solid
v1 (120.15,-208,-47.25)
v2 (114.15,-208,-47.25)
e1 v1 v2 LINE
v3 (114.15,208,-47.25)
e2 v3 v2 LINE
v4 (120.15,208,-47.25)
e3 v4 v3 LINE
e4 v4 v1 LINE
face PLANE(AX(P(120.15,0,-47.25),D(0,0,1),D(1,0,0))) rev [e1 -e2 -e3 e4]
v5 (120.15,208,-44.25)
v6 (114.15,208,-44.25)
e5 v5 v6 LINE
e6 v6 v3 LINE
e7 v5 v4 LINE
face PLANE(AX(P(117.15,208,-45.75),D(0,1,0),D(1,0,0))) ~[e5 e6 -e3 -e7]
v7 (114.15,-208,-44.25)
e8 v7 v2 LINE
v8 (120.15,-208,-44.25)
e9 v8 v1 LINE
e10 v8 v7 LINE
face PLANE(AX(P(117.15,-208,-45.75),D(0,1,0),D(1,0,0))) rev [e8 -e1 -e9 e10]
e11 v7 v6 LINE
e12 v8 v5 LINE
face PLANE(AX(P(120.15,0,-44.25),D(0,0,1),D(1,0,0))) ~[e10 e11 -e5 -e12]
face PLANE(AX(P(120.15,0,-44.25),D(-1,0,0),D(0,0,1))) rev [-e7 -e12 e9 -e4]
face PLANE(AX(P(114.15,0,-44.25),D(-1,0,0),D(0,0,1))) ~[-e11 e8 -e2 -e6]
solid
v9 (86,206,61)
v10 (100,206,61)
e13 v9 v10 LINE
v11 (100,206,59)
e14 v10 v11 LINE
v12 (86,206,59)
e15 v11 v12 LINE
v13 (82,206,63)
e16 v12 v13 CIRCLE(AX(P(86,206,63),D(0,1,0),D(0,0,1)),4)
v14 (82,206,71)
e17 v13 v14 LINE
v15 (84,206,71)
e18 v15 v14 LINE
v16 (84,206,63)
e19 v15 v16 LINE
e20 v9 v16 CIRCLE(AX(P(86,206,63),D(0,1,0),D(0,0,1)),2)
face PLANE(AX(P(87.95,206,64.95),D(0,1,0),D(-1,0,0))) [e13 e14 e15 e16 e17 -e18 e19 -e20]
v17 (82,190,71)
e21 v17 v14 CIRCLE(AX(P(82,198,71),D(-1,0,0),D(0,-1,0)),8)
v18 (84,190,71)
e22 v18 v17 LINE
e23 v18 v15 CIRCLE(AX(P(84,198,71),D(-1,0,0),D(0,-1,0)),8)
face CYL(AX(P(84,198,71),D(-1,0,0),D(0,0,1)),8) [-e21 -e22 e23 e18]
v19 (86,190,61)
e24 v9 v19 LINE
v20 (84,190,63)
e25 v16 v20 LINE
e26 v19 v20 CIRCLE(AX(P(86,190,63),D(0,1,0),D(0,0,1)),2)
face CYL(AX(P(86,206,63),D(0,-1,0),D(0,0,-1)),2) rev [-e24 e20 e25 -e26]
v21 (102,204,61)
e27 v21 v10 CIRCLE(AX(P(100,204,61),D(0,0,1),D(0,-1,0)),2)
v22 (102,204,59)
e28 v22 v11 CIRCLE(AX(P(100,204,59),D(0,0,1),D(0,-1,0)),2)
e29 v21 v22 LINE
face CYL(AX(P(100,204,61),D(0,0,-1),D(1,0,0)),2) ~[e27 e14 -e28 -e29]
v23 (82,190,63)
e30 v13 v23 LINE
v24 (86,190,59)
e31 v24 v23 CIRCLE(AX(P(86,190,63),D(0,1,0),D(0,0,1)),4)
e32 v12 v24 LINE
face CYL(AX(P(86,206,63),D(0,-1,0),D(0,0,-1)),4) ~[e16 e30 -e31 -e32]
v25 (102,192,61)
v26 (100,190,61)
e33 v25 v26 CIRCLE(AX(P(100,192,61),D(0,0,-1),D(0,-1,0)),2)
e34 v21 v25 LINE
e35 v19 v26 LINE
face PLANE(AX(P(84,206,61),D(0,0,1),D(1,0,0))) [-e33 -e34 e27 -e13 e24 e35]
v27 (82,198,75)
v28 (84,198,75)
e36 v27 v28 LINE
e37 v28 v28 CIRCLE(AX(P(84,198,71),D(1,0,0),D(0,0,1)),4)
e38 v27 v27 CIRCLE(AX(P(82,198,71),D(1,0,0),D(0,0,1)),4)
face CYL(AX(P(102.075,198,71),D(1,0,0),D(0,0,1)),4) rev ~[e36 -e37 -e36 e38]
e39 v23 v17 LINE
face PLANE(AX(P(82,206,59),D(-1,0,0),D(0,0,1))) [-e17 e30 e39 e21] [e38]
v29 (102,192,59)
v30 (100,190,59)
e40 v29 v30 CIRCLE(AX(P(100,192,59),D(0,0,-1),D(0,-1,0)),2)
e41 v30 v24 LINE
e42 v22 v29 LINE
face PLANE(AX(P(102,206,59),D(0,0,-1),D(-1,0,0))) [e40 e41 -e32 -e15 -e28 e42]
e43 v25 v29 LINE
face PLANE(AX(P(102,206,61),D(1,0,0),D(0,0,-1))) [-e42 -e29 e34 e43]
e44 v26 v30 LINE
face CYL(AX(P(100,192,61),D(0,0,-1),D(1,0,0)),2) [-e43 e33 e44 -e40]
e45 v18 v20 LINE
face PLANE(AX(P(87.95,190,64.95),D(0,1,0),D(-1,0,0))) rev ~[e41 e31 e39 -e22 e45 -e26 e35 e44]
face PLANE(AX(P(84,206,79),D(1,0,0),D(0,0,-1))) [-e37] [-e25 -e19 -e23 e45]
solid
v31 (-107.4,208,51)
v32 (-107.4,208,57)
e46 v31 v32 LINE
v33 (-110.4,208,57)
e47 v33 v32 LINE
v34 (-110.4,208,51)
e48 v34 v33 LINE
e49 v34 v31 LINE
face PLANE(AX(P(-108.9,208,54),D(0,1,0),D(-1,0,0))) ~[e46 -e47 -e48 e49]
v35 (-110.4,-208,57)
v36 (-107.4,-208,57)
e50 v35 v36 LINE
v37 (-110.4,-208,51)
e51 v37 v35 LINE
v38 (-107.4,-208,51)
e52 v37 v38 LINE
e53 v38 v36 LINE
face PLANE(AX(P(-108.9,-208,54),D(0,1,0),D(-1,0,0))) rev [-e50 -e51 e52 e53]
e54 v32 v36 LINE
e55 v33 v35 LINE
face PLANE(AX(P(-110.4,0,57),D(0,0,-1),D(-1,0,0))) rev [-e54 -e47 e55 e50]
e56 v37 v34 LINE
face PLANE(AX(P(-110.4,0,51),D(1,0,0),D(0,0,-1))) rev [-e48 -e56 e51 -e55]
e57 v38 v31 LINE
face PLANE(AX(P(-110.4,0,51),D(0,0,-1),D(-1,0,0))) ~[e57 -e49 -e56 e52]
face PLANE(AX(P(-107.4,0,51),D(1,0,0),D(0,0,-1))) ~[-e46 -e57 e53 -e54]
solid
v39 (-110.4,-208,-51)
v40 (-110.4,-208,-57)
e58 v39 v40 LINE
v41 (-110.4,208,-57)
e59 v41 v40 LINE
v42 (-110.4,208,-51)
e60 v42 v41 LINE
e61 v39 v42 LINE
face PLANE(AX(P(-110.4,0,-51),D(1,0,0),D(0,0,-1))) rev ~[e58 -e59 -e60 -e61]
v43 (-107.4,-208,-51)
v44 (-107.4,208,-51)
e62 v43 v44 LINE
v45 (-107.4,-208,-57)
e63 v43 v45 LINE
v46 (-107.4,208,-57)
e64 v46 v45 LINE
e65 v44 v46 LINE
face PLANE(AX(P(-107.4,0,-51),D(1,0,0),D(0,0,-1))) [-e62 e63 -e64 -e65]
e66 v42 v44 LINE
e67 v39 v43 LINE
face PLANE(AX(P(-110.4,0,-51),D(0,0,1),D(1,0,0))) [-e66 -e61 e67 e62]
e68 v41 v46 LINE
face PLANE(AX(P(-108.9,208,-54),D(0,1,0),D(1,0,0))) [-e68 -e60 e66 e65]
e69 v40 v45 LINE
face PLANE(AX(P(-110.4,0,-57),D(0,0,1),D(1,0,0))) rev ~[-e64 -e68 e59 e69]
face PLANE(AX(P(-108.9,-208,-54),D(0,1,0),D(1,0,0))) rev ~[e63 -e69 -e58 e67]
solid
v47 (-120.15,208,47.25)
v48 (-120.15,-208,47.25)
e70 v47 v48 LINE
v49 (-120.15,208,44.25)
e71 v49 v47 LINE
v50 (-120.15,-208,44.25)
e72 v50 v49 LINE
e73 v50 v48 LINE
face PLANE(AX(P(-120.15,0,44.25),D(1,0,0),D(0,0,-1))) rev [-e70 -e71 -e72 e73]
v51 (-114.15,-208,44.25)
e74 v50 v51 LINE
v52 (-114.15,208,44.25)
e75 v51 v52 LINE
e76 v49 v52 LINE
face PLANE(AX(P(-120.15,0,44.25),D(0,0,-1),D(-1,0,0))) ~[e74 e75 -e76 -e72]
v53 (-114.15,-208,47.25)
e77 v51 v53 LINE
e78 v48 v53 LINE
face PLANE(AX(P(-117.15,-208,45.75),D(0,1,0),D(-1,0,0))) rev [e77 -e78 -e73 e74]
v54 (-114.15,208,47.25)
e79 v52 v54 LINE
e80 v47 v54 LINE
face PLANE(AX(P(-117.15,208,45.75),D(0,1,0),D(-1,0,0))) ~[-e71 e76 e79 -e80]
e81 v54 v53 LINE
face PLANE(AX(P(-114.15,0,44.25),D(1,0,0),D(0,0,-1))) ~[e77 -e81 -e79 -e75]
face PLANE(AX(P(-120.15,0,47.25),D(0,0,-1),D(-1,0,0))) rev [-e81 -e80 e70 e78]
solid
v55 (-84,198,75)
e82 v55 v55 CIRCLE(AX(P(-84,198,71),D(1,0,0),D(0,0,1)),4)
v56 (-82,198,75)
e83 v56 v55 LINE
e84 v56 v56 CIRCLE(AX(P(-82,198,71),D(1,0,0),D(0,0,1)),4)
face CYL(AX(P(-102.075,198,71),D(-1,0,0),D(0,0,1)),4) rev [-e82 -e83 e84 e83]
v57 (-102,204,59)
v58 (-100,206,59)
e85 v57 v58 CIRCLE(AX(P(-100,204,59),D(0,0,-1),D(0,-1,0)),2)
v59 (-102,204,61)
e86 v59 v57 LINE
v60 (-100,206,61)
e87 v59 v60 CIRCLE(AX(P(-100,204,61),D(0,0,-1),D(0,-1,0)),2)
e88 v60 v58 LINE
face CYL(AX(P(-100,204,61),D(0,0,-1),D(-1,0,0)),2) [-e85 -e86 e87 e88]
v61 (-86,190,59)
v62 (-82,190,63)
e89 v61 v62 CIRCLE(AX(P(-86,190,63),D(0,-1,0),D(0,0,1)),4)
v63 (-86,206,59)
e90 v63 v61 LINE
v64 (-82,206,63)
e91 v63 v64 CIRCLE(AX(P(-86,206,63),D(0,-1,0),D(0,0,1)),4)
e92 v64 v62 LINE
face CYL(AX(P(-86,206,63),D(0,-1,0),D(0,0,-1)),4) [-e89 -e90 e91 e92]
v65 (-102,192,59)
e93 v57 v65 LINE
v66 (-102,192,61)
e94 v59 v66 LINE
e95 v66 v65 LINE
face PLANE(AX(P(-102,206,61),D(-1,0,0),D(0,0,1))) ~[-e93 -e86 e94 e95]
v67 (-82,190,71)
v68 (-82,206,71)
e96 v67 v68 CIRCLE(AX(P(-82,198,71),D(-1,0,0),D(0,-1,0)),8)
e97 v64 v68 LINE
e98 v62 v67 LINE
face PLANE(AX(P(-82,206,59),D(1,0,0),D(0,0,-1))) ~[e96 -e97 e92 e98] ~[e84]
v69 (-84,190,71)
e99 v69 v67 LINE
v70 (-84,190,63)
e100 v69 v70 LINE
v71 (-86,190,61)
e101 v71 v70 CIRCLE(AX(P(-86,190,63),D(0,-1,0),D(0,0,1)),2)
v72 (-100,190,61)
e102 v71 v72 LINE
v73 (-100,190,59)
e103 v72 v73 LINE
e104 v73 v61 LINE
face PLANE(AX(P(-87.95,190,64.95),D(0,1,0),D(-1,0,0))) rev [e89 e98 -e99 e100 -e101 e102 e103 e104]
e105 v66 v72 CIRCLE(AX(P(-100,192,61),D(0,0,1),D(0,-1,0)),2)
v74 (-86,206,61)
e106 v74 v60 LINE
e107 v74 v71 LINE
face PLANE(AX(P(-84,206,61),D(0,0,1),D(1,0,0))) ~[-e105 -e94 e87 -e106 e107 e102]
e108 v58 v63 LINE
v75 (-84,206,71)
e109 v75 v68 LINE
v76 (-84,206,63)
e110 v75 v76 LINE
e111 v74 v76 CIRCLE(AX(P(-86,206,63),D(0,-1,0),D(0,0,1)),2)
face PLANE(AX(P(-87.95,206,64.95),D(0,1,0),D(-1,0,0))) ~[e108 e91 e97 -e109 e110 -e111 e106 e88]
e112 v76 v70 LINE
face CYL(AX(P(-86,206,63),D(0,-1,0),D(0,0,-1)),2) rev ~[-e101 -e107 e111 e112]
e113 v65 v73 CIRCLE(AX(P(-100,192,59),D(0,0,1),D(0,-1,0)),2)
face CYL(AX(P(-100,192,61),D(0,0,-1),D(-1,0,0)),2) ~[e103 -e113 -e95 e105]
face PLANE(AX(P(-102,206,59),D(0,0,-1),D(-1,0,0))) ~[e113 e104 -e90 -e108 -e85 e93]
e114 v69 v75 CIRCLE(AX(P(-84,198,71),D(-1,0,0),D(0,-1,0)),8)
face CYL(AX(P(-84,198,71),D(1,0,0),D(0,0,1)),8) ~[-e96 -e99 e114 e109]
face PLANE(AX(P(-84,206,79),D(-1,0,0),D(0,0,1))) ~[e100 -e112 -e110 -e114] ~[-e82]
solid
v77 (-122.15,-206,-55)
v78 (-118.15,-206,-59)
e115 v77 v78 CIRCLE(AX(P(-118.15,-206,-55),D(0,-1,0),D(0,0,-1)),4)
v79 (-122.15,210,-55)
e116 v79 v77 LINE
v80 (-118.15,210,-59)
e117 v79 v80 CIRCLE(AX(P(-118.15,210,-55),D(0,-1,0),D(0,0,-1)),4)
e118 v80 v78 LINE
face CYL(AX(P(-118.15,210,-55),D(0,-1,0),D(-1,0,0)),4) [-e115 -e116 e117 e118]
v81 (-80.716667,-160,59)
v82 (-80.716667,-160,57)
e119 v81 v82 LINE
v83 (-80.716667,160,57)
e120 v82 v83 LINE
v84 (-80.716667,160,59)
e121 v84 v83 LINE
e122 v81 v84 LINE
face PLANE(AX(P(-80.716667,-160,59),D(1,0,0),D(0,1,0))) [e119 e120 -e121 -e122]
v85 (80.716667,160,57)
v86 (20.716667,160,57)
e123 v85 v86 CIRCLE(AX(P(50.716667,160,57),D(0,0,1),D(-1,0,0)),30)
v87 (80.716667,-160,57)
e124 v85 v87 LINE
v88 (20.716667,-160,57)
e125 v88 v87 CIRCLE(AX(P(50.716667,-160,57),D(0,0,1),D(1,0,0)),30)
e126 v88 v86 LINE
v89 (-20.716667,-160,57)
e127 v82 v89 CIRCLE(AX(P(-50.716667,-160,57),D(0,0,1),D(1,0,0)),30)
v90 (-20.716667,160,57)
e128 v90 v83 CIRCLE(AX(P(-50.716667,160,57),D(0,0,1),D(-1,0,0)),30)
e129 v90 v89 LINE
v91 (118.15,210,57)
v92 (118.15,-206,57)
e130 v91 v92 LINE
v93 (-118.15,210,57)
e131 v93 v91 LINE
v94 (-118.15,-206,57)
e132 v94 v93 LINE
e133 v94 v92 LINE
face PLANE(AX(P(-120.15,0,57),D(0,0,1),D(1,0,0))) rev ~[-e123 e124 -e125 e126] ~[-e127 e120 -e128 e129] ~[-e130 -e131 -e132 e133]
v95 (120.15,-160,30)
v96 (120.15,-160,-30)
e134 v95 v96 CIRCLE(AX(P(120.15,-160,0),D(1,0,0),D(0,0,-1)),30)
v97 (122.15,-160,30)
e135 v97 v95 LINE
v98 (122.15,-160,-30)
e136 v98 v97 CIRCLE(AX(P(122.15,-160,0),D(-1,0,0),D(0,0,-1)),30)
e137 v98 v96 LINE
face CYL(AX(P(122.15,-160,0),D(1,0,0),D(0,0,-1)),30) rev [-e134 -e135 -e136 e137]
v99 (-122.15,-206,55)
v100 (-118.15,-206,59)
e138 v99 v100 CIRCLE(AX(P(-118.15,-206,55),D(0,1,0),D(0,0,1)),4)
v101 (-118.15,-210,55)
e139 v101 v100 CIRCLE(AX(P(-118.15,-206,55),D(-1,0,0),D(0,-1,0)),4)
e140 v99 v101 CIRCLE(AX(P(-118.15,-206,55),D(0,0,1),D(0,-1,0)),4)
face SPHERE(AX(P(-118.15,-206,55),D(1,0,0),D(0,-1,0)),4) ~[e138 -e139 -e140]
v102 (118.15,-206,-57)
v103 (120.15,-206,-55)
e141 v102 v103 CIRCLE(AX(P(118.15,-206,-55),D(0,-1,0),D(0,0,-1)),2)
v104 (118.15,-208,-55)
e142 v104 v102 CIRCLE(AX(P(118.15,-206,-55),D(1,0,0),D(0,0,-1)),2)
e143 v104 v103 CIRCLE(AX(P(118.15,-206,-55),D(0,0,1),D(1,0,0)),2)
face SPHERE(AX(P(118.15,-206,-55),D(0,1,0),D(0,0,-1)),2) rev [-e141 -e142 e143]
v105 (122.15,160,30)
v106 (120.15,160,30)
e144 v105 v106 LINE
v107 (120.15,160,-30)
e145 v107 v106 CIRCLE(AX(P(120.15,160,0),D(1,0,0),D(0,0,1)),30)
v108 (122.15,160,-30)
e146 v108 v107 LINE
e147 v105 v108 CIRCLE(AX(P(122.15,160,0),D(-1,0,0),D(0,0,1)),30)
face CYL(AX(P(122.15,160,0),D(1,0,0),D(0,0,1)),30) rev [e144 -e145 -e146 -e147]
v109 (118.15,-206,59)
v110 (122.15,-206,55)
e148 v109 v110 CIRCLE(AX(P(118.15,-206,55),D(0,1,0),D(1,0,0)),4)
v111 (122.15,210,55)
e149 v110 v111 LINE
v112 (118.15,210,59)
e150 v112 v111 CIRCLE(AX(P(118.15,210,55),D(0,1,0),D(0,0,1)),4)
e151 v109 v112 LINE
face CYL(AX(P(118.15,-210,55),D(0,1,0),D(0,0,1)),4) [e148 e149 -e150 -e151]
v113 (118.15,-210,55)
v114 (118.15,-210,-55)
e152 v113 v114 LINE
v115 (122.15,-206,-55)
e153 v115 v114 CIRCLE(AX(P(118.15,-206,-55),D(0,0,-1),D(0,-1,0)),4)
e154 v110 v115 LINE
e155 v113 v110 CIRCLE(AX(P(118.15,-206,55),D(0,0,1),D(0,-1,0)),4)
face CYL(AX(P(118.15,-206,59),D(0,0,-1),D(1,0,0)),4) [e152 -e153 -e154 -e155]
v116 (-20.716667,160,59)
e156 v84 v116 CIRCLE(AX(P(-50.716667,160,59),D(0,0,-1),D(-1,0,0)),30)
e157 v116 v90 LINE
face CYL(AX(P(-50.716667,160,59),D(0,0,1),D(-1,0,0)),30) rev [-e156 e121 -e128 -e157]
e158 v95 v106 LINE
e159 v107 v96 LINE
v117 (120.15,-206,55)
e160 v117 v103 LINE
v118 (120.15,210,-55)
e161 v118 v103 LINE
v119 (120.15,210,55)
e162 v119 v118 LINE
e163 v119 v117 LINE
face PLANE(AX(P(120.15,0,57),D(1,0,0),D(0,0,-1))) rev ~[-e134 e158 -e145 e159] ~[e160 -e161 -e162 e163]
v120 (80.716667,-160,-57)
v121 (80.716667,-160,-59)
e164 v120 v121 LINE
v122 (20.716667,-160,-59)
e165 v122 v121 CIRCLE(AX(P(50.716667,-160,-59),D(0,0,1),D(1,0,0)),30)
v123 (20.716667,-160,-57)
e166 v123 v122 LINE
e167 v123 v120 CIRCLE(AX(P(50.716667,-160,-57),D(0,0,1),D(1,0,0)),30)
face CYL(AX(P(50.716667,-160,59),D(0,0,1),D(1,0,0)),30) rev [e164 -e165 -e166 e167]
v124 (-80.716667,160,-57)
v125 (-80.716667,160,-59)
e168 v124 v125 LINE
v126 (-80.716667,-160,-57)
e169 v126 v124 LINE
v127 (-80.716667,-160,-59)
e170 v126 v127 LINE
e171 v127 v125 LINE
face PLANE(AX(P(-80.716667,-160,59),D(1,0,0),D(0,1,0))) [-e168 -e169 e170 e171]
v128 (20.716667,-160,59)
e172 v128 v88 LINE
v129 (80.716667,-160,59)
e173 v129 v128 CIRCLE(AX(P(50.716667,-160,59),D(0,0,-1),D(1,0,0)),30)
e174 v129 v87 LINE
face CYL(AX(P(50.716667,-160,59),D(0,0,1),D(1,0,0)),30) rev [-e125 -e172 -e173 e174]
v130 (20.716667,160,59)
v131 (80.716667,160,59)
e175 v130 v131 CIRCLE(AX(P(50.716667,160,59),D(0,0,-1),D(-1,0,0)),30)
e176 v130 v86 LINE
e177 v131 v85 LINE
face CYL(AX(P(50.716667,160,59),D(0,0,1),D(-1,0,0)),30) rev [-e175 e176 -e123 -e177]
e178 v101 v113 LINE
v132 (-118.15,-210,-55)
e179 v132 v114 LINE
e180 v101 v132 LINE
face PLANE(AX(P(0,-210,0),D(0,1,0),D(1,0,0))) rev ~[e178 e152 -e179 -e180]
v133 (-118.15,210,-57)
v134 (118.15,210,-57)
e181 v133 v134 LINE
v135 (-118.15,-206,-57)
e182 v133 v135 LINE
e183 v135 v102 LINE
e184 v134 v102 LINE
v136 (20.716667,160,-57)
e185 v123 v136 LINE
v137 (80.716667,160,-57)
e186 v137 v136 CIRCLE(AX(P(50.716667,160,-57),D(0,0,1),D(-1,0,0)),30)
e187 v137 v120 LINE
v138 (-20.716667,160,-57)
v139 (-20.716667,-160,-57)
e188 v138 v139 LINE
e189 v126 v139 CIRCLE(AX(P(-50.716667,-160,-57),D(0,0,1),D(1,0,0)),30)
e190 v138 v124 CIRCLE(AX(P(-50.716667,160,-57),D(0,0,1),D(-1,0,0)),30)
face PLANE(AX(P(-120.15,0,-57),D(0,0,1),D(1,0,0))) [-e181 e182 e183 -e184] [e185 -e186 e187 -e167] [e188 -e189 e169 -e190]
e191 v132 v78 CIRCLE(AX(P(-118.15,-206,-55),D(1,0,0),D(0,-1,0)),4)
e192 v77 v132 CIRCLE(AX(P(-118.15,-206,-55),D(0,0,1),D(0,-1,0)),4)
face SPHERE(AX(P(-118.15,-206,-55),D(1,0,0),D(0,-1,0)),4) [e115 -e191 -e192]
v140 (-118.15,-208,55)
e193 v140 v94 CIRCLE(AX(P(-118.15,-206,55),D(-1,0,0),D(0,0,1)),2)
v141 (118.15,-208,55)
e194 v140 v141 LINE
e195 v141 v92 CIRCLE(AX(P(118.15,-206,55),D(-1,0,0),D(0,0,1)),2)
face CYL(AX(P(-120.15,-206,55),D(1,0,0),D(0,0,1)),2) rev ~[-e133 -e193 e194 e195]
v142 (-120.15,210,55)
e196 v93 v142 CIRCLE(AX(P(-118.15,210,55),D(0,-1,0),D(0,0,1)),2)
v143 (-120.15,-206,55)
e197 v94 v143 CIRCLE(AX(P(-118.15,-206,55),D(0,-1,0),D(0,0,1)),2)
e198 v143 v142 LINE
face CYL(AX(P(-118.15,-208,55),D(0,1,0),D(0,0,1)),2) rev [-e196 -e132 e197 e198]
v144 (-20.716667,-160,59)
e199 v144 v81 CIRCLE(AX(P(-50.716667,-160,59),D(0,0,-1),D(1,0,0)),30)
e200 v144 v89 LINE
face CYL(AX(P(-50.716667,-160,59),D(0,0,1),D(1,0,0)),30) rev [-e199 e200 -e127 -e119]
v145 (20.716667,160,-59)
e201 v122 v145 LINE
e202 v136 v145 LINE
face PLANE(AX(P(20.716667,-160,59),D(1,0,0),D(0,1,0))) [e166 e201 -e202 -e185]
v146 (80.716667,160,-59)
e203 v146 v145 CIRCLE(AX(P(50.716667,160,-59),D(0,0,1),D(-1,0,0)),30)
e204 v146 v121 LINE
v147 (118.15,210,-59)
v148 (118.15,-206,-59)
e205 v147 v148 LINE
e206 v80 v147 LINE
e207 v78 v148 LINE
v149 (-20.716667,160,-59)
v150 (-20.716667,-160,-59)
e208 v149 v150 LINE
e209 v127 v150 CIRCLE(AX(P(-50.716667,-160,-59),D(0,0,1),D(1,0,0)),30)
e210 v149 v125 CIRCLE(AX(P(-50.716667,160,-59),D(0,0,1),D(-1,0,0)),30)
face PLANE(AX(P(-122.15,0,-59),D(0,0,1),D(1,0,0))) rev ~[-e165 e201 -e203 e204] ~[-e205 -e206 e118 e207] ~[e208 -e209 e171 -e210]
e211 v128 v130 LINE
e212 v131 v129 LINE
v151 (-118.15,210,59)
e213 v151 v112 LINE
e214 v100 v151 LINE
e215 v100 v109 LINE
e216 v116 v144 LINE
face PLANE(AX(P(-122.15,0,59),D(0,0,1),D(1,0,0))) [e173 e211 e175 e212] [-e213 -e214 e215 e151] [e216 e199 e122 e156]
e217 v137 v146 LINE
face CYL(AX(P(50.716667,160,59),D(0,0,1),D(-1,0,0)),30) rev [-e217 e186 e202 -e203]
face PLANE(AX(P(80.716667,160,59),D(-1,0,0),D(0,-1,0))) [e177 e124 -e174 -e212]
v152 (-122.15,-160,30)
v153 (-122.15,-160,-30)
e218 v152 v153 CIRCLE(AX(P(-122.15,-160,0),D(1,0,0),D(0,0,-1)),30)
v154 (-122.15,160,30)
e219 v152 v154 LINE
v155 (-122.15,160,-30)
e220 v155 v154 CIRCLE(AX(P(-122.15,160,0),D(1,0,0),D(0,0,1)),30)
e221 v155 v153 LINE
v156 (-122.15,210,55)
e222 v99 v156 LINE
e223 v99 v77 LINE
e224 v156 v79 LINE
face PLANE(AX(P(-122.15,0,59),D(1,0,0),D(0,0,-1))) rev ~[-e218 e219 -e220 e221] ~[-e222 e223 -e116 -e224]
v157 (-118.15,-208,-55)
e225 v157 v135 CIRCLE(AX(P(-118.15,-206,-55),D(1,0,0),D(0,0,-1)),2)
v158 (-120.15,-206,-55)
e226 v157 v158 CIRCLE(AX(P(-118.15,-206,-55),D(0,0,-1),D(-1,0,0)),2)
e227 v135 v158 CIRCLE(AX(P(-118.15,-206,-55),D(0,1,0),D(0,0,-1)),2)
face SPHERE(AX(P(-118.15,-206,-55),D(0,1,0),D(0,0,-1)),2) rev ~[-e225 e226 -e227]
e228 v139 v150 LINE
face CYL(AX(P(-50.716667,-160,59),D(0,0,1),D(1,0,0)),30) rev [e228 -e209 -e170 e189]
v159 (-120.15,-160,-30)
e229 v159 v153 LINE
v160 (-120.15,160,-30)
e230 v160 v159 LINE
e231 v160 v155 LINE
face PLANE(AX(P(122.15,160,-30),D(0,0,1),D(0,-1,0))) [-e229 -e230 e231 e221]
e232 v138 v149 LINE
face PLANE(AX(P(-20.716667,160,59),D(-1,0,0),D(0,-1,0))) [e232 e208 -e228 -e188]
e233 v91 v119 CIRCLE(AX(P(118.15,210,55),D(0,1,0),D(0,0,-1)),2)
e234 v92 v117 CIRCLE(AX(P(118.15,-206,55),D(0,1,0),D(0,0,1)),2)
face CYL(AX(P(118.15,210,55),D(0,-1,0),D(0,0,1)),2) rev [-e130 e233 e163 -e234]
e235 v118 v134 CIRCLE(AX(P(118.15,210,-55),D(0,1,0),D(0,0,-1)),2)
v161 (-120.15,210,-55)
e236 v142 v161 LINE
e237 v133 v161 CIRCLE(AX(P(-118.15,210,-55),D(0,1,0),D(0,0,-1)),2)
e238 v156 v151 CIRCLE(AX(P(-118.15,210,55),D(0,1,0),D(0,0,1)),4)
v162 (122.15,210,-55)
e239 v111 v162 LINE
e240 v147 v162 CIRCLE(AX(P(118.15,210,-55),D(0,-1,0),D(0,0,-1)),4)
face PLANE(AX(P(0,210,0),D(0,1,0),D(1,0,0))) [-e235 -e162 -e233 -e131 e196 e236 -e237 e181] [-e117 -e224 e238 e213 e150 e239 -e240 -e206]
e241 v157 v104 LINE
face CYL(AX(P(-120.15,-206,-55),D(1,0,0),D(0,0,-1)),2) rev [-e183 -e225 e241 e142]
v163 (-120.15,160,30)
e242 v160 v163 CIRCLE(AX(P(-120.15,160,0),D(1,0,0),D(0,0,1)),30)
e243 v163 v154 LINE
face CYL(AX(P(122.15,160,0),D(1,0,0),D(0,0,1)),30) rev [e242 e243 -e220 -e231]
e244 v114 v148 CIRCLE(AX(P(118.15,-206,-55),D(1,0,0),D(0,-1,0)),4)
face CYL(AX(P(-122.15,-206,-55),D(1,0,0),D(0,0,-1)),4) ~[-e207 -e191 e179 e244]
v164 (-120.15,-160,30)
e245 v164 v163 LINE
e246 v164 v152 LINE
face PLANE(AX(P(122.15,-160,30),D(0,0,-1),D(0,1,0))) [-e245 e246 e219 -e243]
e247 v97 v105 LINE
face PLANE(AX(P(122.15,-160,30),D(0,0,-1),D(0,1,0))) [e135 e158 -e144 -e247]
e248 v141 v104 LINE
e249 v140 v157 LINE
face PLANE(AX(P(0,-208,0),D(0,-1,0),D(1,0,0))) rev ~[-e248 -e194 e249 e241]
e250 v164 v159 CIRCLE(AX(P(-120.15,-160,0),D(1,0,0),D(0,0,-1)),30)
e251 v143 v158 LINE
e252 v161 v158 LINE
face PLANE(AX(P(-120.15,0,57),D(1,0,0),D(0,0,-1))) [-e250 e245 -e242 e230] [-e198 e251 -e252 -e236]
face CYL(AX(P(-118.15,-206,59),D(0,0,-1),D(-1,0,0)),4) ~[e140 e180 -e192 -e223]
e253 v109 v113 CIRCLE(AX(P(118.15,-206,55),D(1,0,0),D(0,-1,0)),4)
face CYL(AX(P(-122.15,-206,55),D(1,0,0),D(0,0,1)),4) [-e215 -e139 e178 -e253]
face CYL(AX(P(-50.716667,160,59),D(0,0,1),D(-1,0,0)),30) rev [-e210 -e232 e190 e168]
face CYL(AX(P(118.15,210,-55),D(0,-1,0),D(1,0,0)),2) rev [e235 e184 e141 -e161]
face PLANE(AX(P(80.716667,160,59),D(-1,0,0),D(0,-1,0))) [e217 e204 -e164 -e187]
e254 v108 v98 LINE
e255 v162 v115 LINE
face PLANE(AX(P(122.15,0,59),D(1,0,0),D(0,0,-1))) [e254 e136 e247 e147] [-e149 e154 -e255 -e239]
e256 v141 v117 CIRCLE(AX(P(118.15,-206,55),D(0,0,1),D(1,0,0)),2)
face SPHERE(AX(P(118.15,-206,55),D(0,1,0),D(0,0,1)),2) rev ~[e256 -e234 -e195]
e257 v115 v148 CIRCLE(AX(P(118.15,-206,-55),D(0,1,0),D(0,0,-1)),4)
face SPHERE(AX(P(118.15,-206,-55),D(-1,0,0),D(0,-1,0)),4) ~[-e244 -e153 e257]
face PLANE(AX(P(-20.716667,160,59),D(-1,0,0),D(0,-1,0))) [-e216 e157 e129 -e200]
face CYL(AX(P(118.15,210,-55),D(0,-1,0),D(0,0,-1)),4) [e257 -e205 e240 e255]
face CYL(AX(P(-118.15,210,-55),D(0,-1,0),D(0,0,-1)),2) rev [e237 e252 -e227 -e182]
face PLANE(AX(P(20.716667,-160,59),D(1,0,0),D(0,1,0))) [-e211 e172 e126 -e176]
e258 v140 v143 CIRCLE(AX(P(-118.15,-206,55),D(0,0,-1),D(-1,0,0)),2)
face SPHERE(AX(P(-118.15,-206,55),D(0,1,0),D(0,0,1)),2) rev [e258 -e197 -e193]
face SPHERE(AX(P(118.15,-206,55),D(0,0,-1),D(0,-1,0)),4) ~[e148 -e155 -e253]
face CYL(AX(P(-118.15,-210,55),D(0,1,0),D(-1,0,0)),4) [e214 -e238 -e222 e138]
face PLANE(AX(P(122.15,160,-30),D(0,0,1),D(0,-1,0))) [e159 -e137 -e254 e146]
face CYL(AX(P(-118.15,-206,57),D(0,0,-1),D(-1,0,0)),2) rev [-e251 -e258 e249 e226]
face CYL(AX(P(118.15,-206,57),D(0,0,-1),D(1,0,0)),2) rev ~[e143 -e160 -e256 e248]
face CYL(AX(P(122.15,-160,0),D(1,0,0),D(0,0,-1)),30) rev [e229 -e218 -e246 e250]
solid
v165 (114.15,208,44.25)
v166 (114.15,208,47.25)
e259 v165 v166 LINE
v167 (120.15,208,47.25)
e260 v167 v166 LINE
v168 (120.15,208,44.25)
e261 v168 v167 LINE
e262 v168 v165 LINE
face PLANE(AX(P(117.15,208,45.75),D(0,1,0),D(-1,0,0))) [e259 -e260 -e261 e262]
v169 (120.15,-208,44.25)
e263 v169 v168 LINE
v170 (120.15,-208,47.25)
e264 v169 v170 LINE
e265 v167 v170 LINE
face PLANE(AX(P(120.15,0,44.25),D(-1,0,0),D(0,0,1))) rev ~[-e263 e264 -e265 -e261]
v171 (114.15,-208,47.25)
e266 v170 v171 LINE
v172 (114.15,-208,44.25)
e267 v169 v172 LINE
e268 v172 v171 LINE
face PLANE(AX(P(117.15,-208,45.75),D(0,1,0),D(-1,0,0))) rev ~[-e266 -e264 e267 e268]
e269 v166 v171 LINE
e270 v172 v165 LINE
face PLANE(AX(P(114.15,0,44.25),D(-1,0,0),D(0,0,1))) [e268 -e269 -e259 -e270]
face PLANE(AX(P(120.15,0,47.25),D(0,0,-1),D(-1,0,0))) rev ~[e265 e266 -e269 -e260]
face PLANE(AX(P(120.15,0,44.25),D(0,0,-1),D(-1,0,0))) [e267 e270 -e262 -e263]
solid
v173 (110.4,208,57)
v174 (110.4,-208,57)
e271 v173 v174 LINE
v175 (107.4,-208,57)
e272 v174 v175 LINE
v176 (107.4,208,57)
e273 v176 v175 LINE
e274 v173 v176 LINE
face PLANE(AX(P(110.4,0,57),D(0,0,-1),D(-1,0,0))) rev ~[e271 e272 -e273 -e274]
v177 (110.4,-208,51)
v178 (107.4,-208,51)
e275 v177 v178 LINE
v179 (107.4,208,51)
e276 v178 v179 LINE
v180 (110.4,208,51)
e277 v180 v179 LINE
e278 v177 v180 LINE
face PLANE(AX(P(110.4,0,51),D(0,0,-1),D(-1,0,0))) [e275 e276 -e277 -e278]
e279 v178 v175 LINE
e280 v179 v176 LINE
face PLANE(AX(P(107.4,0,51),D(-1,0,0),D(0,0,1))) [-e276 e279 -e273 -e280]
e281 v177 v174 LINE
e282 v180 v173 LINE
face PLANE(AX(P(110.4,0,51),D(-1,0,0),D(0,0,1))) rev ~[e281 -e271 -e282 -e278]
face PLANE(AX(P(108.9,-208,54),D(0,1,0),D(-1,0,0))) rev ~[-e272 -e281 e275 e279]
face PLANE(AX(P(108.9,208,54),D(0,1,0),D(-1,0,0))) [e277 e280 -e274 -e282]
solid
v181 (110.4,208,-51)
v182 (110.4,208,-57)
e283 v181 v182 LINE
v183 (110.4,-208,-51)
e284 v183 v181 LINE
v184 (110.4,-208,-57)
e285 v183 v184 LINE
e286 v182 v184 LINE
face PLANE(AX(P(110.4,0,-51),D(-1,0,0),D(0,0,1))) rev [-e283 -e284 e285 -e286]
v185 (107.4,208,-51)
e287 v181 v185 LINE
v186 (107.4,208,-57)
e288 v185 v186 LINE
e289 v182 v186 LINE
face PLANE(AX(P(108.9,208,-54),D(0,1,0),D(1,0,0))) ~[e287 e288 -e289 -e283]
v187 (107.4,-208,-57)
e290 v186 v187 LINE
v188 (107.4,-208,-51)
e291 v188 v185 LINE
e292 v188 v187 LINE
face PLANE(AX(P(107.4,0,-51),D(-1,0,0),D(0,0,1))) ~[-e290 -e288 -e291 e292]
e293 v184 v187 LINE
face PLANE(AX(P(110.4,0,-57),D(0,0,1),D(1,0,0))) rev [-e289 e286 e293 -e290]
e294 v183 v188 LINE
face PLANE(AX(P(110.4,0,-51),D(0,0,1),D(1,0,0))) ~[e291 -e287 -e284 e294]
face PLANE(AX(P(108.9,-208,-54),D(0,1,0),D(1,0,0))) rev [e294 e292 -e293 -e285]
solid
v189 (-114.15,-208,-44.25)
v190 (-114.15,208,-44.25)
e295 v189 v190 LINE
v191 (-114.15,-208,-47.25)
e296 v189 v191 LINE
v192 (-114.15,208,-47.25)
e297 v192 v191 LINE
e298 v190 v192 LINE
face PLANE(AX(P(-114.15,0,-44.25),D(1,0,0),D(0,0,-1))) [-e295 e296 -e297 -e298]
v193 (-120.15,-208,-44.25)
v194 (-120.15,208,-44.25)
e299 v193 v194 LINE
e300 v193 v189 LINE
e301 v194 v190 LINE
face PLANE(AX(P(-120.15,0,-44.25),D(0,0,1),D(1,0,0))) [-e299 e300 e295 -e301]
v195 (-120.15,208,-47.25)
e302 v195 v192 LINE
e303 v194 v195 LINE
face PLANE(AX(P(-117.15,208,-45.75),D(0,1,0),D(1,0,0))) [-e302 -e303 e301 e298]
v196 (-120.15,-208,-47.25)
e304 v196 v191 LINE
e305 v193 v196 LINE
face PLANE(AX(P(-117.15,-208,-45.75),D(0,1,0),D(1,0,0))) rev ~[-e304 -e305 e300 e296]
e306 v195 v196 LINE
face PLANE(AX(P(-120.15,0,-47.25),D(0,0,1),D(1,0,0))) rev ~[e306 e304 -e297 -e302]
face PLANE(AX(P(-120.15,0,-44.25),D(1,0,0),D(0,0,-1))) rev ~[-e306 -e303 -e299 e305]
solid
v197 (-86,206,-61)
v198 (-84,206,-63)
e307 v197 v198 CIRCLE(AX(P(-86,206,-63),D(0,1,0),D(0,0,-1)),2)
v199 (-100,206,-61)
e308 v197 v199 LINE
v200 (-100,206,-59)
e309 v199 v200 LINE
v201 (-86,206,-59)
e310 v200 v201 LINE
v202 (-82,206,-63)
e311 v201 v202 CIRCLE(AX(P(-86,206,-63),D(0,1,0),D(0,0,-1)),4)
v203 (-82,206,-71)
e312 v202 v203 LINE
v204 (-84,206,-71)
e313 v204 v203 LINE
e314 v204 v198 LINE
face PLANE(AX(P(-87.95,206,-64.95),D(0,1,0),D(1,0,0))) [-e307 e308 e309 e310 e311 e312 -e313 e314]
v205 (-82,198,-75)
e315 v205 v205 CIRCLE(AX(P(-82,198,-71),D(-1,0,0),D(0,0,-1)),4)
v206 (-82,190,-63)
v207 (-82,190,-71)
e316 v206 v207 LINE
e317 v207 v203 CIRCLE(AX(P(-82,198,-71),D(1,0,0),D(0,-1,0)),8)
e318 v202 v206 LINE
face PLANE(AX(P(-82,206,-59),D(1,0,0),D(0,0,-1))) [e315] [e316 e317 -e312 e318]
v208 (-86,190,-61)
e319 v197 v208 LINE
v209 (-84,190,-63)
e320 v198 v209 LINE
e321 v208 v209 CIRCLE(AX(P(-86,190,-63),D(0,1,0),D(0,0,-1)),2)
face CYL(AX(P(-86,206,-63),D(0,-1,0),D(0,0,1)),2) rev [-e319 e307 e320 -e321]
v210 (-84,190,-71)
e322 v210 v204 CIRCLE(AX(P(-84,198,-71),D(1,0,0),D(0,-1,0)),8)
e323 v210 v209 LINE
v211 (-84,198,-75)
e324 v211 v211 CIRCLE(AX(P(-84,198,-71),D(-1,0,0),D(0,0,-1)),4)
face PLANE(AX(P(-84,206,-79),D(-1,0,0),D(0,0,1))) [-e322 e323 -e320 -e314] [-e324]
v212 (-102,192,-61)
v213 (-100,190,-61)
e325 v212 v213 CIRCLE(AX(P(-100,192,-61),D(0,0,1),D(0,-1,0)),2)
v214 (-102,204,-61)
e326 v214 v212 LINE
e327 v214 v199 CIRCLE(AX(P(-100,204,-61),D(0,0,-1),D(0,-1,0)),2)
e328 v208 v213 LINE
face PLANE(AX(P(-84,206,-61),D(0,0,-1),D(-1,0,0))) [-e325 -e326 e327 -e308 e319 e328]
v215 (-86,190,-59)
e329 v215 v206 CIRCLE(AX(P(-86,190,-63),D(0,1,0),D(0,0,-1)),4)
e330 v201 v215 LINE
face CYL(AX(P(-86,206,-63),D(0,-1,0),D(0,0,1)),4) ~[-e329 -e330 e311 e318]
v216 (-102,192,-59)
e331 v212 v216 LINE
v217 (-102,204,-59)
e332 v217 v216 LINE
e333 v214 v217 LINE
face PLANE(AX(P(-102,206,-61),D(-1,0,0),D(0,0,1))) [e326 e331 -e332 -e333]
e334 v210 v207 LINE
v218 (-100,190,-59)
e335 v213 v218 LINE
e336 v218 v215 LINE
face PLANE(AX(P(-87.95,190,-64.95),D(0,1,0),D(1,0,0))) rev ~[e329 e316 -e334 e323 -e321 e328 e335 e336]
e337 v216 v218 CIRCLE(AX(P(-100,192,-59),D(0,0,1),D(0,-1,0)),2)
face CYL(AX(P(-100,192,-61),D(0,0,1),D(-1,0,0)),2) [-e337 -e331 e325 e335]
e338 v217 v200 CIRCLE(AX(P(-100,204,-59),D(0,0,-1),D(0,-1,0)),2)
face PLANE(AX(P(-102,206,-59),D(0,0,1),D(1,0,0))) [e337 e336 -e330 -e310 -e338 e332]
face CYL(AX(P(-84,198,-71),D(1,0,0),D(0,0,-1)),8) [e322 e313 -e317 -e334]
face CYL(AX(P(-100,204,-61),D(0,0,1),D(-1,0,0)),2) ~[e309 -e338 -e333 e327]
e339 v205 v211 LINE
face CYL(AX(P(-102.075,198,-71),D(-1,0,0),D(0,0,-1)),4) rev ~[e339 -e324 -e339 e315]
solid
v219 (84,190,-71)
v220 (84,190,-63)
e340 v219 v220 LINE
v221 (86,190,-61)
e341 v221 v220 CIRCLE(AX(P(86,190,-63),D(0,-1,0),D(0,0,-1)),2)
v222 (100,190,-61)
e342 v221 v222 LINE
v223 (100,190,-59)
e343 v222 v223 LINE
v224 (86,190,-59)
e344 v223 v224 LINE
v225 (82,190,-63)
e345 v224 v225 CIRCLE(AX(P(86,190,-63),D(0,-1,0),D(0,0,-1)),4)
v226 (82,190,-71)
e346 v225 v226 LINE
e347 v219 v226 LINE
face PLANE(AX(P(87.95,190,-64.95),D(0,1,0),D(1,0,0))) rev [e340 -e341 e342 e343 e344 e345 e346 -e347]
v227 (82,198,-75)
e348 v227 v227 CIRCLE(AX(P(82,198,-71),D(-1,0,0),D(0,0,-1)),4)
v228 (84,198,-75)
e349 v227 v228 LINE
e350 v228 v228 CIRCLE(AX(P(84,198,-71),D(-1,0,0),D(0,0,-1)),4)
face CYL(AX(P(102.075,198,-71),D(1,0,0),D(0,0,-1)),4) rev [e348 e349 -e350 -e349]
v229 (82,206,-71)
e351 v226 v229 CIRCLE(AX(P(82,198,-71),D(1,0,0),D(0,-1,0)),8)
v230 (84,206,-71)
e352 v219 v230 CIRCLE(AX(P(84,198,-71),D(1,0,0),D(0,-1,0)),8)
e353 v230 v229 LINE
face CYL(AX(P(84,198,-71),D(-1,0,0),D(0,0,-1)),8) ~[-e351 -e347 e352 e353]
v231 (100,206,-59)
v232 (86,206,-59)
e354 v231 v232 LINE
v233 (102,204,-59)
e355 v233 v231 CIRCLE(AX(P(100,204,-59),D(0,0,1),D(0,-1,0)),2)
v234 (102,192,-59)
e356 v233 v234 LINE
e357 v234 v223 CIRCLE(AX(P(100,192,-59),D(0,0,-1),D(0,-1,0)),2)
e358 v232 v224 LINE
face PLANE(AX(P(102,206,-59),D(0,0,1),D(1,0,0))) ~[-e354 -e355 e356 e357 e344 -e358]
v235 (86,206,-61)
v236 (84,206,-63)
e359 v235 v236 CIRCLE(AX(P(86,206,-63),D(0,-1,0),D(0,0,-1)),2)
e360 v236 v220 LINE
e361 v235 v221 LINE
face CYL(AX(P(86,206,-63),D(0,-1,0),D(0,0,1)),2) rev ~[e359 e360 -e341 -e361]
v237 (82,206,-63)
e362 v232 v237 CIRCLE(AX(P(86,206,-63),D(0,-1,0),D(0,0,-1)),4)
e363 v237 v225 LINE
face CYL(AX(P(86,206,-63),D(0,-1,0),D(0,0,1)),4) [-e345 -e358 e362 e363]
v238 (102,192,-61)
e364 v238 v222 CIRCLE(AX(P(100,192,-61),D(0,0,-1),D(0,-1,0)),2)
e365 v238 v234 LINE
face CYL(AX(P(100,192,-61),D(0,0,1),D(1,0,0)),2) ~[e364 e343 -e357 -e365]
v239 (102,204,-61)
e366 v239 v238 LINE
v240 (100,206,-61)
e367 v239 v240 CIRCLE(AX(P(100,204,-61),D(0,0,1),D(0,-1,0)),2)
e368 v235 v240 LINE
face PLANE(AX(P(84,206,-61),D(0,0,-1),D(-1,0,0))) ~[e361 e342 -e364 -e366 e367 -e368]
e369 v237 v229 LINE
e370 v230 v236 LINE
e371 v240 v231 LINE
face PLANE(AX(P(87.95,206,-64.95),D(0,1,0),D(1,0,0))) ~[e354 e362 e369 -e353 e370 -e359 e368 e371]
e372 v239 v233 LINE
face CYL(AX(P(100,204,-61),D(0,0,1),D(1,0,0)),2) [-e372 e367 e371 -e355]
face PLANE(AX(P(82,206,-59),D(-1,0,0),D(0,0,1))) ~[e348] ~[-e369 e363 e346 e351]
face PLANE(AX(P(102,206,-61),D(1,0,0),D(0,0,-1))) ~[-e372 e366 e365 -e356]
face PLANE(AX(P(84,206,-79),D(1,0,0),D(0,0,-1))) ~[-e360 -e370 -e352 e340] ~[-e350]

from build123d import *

# Parameters (mm, degrees)
SKETCH2_W             = 3
SKETCH2_H             = 6
BOSS_EXTRUDE1_DEPTH   = 208
SKETCH2_W_2           = 6
SKETCH2_H_2           = 3
BOSS_EXTRUDE1_2_DEPTH = 208
SKETCH3_W             = 244.3
SKETCH3_H             = 118
SKETCH3_W_2           = 240.3
SKETCH3_H_2           = 114
EXTRUDE_THIN1_DEPTH   = 210
SKETCH4_W             = 244.3
SKETCH4_H             = 118
BOSS_EXTRUDE2_DEPTH   = 2
CUT_EXTRUDE1_DEPTH    = 271.082621618
CUT_EXTRUDE2_DEPTH    = 328.511053249
EXTRUDE_THIN2_START   = -4
EXTRUDE_THIN2_DEPTH   = 16
FILLET1_RADIUS        = 8
FILLET1_LENGTH        = 2
SKETCH9_W             = 4
SKETCH9_H             = 40.15
FILLET2_R             = 2
FILLET3_R             = 4
FILLET4_R             = 2
FILLET5_R             = 4


with BuildPart() as part:
    # Sketch2 → Boss-Extrude1 (new, symmetric)
    with BuildSketch(Plane(origin=(0, 0, 0), x_dir=(1, 0, 0), z_dir=(0, 1, 0))):
        with Locations((-108.9, 54)):
            Rectangle(SKETCH2_W, SKETCH2_H)
    extrude(amount=BOSS_EXTRUDE1_DEPTH, both=True)


with BuildPart() as body_2:
    # Sketch2 → Boss-Extrude1 2 (new, symmetric)
    with BuildSketch(Plane(origin=(0, 0, 0), x_dir=(1, 0, 0), z_dir=(0, 1, 0))):
        with Locations((-117.15, 45.75)):
            Rectangle(SKETCH2_W_2, SKETCH2_H_2)
    extrude(amount=BOSS_EXTRUDE1_2_DEPTH, both=True)


with BuildPart() as body_3:
    # Mirror2: mirrored copy
    add(part.part.mirror(Plane.XY))


with BuildPart() as body_4:
    # Mirror2 2: mirrored copy
    add(body_2.part.mirror(Plane.XY))


with BuildPart() as body_5:
    # Mirror3: mirrored copy
    add(body_2.part.mirror(Plane(origin=(0, 0, 0), x_dir=(0, 0, 1), z_dir=(1, 0, 0))))


with BuildPart() as body_6:
    # Mirror3 2: mirrored copy
    add(body_3.part.mirror(Plane(origin=(0, 0, 0), x_dir=(0, 0, 1), z_dir=(1, 0, 0))))


with BuildPart() as body_7:
    # Mirror3 3: mirrored copy
    add(part.part.mirror(Plane(origin=(0, 0, 0), x_dir=(0, 0, 1), z_dir=(1, 0, 0))))


with BuildPart() as body_8:
    # Mirror3 4: mirrored copy
    add(body_4.part.mirror(Plane(origin=(0, 0, 0), x_dir=(0, 0, 1), z_dir=(1, 0, 0))))


with BuildPart() as body_9:
    # Sketch3 → Extrude-Thin1 (new, symmetric)
    with BuildSketch(Plane(origin=(0, 0, 0), x_dir=(1, 0, 0), z_dir=(0, 1, 0))):
        Rectangle(SKETCH3_W, SKETCH3_H)
        Rectangle(SKETCH3_W_2, SKETCH3_H_2, mode=Mode.SUBTRACT)
    extrude(amount=EXTRUDE_THIN1_DEPTH, both=True)

    # Sketch4 → Boss-Extrude2 (add)
    with BuildSketch(Plane.XZ.offset(208)):
        Rectangle(SKETCH4_W, SKETCH4_H)
    extrude(amount=BOSS_EXTRUDE2_DEPTH)

    # Sketch5 → Cut-Extrude1 (cut, through all)
    with BuildSketch(Plane.XY.offset(59)):
        with BuildLine():
            Line((-80.716666667, -160), (-80.716666667, 160))
            ThreePointArc((-80.716666667, 160), (-50.716666667, 190), (-20.716666667, 160))
            Line((-20.716666667, 160), (-20.716666667, -160))
            ThreePointArc((-20.716666667, -160), (-50.716666667, -190), (-80.716666667, -160))
        make_face()
        with BuildLine():
            Line((20.716666667, -160), (20.716666667, 160))
            ThreePointArc((20.716666667, 160), (50.716666667, 190), (80.716666667, 160))
            Line((80.716666667, 160), (80.716666667, -160))
            ThreePointArc((80.716666667, -160), (50.716666667, -190), (20.716666667, -160))
        make_face()
    extrude(amount=-CUT_EXTRUDE1_DEPTH, mode=Mode.SUBTRACT)

    # Sketch6 → Cut-Extrude2 (cut, through all)
    with BuildSketch(Plane(origin=(122.15, 0, 0), x_dir=(0, 0, -1), z_dir=(1, 0, 0))):
        with BuildLine():
            Line((-30, -160), (-30, 160))
            ThreePointArc((-30, 160), (0, 190), (30, 160))
            Line((30, 160), (30, -160))
            ThreePointArc((30, -160), (0, -190), (-30, -160))
        make_face()
    extrude(amount=-CUT_EXTRUDE2_DEPTH, mode=Mode.SUBTRACT)

    # Fillet4
    fillet4_edges = [body_9.edges().sort_by_distance(p)[0] for p in [
        (-120.15, 1, -57),
        (-120.15, 1, 57),
        (120.15, 1, 57),
        (120.15, 1, -57),
        (0, -208, -57),
        (0, -208, 57),
        (-120.15, -208, 0),
        (120.15, -208, 0),
    ]]
    fillet(fillet4_edges, radius=FILLET4_R)

    # Fillet5
    fillet5_edges = [body_9.edges().sort_by_distance(p)[0] for p in [
        (0, -210, -59),
        (122.15, -210, 0),
        (0, -210, 59),
        (-122.15, -210, 0),
        (-122.15, 0, -59),
        (122.15, 0, -59),
        (122.15, 0, 59),
        (-122.15, 0, 59),
    ]]
    fillet(fillet5_edges, radius=FILLET5_R)


with BuildPart() as body_10:
    # Sketch7 → Extrude-Thin2 (new body)
    with BuildSketch(Plane(origin=(0, 210, 0), x_dir=(1, 0, 0), z_dir=(0, 1, 0)).offset(EXTRUDE_THIN2_START)):
        Polygon((-102, 59), (-82, 59), (-82, 79), (-84, 79), (-84, 61), (-102, 61), align=None)
    extrude(amount=-EXTRUDE_THIN2_DEPTH)

    # Fillet1: full round fillet: the end face becomes a half cylinder, R = half its width
    fillet1_face = Plane((-83, 198, -79), x_dir=(1, 0, 0), z_dir=(0, 0, -1))  # on the end face: x along it, z out of the body
    fillet1_slab = fillet1_face.offset(-FILLET1_RADIUS / 2) * Box(FILLET1_LENGTH, 2 * FILLET1_RADIUS, FILLET1_RADIUS, mode=Mode.PRIVATE)  # the body's end, R deep
    fillet1_round = Plane((-83, 198, -71), x_dir=(0, 0, -1), z_dir=(1, 0, 0)) * Cylinder(FILLET1_RADIUS, FILLET1_LENGTH, mode=Mode.PRIVATE)  # its axis R under the face
    add(fillet1_slab - fillet1_round, mode=Mode.SUBTRACT)

    # Sketch9 → Ø8.0mm Dowel Hole1 (revolve, cut)
    with BuildSketch(Plane(origin=(-82, 198, -71), x_dir=(0, 0, -1), z_dir=(0, 1, 0))):
        with Locations((2, 20.075)):
            Rectangle(SKETCH9_W, SKETCH9_H)
    revolve(axis=Axis((-75.65, 198, -71), (-1, 0, 0)), mode=Mode.SUBTRACT)

    # Fillet2
    fillet2_edges = [body_10.edges().sort_by_distance(p)[0] for p in [
        (-102, 190, -60),
        (-102, 206, -60),
        (-84, 198, -61),
    ]]
    fillet(fillet2_edges, radius=FILLET2_R)

    # Fillet3
    fillet3_edges = [body_10.edges().sort_by_distance(p)[0] for p in [
        (-82, 198, -59),
    ]]
    fillet(fillet3_edges, radius=FILLET3_R)


with BuildPart() as body_11:
    # Mirror4: mirrored copy
    add(body_10.part.mirror(Plane(origin=(0, 0, 0), x_dir=(0, 0, 1), z_dir=(1, 0, 0))))


with BuildPart() as body_12:
    # Mirror5: mirrored copy
    add(body_11.part.mirror(Plane.XY))


with BuildPart() as body_13:
    # Mirror5 2: mirrored copy
    add(body_10.part.mirror(Plane.XY))


solid = Compound([part.part, body_2.part, body_3.part, body_4.part, body_5.part, body_6.part, body_7.part, body_8.part, body_9.part, body_10.part, body_11.part, body_12.part, body_13.part])
